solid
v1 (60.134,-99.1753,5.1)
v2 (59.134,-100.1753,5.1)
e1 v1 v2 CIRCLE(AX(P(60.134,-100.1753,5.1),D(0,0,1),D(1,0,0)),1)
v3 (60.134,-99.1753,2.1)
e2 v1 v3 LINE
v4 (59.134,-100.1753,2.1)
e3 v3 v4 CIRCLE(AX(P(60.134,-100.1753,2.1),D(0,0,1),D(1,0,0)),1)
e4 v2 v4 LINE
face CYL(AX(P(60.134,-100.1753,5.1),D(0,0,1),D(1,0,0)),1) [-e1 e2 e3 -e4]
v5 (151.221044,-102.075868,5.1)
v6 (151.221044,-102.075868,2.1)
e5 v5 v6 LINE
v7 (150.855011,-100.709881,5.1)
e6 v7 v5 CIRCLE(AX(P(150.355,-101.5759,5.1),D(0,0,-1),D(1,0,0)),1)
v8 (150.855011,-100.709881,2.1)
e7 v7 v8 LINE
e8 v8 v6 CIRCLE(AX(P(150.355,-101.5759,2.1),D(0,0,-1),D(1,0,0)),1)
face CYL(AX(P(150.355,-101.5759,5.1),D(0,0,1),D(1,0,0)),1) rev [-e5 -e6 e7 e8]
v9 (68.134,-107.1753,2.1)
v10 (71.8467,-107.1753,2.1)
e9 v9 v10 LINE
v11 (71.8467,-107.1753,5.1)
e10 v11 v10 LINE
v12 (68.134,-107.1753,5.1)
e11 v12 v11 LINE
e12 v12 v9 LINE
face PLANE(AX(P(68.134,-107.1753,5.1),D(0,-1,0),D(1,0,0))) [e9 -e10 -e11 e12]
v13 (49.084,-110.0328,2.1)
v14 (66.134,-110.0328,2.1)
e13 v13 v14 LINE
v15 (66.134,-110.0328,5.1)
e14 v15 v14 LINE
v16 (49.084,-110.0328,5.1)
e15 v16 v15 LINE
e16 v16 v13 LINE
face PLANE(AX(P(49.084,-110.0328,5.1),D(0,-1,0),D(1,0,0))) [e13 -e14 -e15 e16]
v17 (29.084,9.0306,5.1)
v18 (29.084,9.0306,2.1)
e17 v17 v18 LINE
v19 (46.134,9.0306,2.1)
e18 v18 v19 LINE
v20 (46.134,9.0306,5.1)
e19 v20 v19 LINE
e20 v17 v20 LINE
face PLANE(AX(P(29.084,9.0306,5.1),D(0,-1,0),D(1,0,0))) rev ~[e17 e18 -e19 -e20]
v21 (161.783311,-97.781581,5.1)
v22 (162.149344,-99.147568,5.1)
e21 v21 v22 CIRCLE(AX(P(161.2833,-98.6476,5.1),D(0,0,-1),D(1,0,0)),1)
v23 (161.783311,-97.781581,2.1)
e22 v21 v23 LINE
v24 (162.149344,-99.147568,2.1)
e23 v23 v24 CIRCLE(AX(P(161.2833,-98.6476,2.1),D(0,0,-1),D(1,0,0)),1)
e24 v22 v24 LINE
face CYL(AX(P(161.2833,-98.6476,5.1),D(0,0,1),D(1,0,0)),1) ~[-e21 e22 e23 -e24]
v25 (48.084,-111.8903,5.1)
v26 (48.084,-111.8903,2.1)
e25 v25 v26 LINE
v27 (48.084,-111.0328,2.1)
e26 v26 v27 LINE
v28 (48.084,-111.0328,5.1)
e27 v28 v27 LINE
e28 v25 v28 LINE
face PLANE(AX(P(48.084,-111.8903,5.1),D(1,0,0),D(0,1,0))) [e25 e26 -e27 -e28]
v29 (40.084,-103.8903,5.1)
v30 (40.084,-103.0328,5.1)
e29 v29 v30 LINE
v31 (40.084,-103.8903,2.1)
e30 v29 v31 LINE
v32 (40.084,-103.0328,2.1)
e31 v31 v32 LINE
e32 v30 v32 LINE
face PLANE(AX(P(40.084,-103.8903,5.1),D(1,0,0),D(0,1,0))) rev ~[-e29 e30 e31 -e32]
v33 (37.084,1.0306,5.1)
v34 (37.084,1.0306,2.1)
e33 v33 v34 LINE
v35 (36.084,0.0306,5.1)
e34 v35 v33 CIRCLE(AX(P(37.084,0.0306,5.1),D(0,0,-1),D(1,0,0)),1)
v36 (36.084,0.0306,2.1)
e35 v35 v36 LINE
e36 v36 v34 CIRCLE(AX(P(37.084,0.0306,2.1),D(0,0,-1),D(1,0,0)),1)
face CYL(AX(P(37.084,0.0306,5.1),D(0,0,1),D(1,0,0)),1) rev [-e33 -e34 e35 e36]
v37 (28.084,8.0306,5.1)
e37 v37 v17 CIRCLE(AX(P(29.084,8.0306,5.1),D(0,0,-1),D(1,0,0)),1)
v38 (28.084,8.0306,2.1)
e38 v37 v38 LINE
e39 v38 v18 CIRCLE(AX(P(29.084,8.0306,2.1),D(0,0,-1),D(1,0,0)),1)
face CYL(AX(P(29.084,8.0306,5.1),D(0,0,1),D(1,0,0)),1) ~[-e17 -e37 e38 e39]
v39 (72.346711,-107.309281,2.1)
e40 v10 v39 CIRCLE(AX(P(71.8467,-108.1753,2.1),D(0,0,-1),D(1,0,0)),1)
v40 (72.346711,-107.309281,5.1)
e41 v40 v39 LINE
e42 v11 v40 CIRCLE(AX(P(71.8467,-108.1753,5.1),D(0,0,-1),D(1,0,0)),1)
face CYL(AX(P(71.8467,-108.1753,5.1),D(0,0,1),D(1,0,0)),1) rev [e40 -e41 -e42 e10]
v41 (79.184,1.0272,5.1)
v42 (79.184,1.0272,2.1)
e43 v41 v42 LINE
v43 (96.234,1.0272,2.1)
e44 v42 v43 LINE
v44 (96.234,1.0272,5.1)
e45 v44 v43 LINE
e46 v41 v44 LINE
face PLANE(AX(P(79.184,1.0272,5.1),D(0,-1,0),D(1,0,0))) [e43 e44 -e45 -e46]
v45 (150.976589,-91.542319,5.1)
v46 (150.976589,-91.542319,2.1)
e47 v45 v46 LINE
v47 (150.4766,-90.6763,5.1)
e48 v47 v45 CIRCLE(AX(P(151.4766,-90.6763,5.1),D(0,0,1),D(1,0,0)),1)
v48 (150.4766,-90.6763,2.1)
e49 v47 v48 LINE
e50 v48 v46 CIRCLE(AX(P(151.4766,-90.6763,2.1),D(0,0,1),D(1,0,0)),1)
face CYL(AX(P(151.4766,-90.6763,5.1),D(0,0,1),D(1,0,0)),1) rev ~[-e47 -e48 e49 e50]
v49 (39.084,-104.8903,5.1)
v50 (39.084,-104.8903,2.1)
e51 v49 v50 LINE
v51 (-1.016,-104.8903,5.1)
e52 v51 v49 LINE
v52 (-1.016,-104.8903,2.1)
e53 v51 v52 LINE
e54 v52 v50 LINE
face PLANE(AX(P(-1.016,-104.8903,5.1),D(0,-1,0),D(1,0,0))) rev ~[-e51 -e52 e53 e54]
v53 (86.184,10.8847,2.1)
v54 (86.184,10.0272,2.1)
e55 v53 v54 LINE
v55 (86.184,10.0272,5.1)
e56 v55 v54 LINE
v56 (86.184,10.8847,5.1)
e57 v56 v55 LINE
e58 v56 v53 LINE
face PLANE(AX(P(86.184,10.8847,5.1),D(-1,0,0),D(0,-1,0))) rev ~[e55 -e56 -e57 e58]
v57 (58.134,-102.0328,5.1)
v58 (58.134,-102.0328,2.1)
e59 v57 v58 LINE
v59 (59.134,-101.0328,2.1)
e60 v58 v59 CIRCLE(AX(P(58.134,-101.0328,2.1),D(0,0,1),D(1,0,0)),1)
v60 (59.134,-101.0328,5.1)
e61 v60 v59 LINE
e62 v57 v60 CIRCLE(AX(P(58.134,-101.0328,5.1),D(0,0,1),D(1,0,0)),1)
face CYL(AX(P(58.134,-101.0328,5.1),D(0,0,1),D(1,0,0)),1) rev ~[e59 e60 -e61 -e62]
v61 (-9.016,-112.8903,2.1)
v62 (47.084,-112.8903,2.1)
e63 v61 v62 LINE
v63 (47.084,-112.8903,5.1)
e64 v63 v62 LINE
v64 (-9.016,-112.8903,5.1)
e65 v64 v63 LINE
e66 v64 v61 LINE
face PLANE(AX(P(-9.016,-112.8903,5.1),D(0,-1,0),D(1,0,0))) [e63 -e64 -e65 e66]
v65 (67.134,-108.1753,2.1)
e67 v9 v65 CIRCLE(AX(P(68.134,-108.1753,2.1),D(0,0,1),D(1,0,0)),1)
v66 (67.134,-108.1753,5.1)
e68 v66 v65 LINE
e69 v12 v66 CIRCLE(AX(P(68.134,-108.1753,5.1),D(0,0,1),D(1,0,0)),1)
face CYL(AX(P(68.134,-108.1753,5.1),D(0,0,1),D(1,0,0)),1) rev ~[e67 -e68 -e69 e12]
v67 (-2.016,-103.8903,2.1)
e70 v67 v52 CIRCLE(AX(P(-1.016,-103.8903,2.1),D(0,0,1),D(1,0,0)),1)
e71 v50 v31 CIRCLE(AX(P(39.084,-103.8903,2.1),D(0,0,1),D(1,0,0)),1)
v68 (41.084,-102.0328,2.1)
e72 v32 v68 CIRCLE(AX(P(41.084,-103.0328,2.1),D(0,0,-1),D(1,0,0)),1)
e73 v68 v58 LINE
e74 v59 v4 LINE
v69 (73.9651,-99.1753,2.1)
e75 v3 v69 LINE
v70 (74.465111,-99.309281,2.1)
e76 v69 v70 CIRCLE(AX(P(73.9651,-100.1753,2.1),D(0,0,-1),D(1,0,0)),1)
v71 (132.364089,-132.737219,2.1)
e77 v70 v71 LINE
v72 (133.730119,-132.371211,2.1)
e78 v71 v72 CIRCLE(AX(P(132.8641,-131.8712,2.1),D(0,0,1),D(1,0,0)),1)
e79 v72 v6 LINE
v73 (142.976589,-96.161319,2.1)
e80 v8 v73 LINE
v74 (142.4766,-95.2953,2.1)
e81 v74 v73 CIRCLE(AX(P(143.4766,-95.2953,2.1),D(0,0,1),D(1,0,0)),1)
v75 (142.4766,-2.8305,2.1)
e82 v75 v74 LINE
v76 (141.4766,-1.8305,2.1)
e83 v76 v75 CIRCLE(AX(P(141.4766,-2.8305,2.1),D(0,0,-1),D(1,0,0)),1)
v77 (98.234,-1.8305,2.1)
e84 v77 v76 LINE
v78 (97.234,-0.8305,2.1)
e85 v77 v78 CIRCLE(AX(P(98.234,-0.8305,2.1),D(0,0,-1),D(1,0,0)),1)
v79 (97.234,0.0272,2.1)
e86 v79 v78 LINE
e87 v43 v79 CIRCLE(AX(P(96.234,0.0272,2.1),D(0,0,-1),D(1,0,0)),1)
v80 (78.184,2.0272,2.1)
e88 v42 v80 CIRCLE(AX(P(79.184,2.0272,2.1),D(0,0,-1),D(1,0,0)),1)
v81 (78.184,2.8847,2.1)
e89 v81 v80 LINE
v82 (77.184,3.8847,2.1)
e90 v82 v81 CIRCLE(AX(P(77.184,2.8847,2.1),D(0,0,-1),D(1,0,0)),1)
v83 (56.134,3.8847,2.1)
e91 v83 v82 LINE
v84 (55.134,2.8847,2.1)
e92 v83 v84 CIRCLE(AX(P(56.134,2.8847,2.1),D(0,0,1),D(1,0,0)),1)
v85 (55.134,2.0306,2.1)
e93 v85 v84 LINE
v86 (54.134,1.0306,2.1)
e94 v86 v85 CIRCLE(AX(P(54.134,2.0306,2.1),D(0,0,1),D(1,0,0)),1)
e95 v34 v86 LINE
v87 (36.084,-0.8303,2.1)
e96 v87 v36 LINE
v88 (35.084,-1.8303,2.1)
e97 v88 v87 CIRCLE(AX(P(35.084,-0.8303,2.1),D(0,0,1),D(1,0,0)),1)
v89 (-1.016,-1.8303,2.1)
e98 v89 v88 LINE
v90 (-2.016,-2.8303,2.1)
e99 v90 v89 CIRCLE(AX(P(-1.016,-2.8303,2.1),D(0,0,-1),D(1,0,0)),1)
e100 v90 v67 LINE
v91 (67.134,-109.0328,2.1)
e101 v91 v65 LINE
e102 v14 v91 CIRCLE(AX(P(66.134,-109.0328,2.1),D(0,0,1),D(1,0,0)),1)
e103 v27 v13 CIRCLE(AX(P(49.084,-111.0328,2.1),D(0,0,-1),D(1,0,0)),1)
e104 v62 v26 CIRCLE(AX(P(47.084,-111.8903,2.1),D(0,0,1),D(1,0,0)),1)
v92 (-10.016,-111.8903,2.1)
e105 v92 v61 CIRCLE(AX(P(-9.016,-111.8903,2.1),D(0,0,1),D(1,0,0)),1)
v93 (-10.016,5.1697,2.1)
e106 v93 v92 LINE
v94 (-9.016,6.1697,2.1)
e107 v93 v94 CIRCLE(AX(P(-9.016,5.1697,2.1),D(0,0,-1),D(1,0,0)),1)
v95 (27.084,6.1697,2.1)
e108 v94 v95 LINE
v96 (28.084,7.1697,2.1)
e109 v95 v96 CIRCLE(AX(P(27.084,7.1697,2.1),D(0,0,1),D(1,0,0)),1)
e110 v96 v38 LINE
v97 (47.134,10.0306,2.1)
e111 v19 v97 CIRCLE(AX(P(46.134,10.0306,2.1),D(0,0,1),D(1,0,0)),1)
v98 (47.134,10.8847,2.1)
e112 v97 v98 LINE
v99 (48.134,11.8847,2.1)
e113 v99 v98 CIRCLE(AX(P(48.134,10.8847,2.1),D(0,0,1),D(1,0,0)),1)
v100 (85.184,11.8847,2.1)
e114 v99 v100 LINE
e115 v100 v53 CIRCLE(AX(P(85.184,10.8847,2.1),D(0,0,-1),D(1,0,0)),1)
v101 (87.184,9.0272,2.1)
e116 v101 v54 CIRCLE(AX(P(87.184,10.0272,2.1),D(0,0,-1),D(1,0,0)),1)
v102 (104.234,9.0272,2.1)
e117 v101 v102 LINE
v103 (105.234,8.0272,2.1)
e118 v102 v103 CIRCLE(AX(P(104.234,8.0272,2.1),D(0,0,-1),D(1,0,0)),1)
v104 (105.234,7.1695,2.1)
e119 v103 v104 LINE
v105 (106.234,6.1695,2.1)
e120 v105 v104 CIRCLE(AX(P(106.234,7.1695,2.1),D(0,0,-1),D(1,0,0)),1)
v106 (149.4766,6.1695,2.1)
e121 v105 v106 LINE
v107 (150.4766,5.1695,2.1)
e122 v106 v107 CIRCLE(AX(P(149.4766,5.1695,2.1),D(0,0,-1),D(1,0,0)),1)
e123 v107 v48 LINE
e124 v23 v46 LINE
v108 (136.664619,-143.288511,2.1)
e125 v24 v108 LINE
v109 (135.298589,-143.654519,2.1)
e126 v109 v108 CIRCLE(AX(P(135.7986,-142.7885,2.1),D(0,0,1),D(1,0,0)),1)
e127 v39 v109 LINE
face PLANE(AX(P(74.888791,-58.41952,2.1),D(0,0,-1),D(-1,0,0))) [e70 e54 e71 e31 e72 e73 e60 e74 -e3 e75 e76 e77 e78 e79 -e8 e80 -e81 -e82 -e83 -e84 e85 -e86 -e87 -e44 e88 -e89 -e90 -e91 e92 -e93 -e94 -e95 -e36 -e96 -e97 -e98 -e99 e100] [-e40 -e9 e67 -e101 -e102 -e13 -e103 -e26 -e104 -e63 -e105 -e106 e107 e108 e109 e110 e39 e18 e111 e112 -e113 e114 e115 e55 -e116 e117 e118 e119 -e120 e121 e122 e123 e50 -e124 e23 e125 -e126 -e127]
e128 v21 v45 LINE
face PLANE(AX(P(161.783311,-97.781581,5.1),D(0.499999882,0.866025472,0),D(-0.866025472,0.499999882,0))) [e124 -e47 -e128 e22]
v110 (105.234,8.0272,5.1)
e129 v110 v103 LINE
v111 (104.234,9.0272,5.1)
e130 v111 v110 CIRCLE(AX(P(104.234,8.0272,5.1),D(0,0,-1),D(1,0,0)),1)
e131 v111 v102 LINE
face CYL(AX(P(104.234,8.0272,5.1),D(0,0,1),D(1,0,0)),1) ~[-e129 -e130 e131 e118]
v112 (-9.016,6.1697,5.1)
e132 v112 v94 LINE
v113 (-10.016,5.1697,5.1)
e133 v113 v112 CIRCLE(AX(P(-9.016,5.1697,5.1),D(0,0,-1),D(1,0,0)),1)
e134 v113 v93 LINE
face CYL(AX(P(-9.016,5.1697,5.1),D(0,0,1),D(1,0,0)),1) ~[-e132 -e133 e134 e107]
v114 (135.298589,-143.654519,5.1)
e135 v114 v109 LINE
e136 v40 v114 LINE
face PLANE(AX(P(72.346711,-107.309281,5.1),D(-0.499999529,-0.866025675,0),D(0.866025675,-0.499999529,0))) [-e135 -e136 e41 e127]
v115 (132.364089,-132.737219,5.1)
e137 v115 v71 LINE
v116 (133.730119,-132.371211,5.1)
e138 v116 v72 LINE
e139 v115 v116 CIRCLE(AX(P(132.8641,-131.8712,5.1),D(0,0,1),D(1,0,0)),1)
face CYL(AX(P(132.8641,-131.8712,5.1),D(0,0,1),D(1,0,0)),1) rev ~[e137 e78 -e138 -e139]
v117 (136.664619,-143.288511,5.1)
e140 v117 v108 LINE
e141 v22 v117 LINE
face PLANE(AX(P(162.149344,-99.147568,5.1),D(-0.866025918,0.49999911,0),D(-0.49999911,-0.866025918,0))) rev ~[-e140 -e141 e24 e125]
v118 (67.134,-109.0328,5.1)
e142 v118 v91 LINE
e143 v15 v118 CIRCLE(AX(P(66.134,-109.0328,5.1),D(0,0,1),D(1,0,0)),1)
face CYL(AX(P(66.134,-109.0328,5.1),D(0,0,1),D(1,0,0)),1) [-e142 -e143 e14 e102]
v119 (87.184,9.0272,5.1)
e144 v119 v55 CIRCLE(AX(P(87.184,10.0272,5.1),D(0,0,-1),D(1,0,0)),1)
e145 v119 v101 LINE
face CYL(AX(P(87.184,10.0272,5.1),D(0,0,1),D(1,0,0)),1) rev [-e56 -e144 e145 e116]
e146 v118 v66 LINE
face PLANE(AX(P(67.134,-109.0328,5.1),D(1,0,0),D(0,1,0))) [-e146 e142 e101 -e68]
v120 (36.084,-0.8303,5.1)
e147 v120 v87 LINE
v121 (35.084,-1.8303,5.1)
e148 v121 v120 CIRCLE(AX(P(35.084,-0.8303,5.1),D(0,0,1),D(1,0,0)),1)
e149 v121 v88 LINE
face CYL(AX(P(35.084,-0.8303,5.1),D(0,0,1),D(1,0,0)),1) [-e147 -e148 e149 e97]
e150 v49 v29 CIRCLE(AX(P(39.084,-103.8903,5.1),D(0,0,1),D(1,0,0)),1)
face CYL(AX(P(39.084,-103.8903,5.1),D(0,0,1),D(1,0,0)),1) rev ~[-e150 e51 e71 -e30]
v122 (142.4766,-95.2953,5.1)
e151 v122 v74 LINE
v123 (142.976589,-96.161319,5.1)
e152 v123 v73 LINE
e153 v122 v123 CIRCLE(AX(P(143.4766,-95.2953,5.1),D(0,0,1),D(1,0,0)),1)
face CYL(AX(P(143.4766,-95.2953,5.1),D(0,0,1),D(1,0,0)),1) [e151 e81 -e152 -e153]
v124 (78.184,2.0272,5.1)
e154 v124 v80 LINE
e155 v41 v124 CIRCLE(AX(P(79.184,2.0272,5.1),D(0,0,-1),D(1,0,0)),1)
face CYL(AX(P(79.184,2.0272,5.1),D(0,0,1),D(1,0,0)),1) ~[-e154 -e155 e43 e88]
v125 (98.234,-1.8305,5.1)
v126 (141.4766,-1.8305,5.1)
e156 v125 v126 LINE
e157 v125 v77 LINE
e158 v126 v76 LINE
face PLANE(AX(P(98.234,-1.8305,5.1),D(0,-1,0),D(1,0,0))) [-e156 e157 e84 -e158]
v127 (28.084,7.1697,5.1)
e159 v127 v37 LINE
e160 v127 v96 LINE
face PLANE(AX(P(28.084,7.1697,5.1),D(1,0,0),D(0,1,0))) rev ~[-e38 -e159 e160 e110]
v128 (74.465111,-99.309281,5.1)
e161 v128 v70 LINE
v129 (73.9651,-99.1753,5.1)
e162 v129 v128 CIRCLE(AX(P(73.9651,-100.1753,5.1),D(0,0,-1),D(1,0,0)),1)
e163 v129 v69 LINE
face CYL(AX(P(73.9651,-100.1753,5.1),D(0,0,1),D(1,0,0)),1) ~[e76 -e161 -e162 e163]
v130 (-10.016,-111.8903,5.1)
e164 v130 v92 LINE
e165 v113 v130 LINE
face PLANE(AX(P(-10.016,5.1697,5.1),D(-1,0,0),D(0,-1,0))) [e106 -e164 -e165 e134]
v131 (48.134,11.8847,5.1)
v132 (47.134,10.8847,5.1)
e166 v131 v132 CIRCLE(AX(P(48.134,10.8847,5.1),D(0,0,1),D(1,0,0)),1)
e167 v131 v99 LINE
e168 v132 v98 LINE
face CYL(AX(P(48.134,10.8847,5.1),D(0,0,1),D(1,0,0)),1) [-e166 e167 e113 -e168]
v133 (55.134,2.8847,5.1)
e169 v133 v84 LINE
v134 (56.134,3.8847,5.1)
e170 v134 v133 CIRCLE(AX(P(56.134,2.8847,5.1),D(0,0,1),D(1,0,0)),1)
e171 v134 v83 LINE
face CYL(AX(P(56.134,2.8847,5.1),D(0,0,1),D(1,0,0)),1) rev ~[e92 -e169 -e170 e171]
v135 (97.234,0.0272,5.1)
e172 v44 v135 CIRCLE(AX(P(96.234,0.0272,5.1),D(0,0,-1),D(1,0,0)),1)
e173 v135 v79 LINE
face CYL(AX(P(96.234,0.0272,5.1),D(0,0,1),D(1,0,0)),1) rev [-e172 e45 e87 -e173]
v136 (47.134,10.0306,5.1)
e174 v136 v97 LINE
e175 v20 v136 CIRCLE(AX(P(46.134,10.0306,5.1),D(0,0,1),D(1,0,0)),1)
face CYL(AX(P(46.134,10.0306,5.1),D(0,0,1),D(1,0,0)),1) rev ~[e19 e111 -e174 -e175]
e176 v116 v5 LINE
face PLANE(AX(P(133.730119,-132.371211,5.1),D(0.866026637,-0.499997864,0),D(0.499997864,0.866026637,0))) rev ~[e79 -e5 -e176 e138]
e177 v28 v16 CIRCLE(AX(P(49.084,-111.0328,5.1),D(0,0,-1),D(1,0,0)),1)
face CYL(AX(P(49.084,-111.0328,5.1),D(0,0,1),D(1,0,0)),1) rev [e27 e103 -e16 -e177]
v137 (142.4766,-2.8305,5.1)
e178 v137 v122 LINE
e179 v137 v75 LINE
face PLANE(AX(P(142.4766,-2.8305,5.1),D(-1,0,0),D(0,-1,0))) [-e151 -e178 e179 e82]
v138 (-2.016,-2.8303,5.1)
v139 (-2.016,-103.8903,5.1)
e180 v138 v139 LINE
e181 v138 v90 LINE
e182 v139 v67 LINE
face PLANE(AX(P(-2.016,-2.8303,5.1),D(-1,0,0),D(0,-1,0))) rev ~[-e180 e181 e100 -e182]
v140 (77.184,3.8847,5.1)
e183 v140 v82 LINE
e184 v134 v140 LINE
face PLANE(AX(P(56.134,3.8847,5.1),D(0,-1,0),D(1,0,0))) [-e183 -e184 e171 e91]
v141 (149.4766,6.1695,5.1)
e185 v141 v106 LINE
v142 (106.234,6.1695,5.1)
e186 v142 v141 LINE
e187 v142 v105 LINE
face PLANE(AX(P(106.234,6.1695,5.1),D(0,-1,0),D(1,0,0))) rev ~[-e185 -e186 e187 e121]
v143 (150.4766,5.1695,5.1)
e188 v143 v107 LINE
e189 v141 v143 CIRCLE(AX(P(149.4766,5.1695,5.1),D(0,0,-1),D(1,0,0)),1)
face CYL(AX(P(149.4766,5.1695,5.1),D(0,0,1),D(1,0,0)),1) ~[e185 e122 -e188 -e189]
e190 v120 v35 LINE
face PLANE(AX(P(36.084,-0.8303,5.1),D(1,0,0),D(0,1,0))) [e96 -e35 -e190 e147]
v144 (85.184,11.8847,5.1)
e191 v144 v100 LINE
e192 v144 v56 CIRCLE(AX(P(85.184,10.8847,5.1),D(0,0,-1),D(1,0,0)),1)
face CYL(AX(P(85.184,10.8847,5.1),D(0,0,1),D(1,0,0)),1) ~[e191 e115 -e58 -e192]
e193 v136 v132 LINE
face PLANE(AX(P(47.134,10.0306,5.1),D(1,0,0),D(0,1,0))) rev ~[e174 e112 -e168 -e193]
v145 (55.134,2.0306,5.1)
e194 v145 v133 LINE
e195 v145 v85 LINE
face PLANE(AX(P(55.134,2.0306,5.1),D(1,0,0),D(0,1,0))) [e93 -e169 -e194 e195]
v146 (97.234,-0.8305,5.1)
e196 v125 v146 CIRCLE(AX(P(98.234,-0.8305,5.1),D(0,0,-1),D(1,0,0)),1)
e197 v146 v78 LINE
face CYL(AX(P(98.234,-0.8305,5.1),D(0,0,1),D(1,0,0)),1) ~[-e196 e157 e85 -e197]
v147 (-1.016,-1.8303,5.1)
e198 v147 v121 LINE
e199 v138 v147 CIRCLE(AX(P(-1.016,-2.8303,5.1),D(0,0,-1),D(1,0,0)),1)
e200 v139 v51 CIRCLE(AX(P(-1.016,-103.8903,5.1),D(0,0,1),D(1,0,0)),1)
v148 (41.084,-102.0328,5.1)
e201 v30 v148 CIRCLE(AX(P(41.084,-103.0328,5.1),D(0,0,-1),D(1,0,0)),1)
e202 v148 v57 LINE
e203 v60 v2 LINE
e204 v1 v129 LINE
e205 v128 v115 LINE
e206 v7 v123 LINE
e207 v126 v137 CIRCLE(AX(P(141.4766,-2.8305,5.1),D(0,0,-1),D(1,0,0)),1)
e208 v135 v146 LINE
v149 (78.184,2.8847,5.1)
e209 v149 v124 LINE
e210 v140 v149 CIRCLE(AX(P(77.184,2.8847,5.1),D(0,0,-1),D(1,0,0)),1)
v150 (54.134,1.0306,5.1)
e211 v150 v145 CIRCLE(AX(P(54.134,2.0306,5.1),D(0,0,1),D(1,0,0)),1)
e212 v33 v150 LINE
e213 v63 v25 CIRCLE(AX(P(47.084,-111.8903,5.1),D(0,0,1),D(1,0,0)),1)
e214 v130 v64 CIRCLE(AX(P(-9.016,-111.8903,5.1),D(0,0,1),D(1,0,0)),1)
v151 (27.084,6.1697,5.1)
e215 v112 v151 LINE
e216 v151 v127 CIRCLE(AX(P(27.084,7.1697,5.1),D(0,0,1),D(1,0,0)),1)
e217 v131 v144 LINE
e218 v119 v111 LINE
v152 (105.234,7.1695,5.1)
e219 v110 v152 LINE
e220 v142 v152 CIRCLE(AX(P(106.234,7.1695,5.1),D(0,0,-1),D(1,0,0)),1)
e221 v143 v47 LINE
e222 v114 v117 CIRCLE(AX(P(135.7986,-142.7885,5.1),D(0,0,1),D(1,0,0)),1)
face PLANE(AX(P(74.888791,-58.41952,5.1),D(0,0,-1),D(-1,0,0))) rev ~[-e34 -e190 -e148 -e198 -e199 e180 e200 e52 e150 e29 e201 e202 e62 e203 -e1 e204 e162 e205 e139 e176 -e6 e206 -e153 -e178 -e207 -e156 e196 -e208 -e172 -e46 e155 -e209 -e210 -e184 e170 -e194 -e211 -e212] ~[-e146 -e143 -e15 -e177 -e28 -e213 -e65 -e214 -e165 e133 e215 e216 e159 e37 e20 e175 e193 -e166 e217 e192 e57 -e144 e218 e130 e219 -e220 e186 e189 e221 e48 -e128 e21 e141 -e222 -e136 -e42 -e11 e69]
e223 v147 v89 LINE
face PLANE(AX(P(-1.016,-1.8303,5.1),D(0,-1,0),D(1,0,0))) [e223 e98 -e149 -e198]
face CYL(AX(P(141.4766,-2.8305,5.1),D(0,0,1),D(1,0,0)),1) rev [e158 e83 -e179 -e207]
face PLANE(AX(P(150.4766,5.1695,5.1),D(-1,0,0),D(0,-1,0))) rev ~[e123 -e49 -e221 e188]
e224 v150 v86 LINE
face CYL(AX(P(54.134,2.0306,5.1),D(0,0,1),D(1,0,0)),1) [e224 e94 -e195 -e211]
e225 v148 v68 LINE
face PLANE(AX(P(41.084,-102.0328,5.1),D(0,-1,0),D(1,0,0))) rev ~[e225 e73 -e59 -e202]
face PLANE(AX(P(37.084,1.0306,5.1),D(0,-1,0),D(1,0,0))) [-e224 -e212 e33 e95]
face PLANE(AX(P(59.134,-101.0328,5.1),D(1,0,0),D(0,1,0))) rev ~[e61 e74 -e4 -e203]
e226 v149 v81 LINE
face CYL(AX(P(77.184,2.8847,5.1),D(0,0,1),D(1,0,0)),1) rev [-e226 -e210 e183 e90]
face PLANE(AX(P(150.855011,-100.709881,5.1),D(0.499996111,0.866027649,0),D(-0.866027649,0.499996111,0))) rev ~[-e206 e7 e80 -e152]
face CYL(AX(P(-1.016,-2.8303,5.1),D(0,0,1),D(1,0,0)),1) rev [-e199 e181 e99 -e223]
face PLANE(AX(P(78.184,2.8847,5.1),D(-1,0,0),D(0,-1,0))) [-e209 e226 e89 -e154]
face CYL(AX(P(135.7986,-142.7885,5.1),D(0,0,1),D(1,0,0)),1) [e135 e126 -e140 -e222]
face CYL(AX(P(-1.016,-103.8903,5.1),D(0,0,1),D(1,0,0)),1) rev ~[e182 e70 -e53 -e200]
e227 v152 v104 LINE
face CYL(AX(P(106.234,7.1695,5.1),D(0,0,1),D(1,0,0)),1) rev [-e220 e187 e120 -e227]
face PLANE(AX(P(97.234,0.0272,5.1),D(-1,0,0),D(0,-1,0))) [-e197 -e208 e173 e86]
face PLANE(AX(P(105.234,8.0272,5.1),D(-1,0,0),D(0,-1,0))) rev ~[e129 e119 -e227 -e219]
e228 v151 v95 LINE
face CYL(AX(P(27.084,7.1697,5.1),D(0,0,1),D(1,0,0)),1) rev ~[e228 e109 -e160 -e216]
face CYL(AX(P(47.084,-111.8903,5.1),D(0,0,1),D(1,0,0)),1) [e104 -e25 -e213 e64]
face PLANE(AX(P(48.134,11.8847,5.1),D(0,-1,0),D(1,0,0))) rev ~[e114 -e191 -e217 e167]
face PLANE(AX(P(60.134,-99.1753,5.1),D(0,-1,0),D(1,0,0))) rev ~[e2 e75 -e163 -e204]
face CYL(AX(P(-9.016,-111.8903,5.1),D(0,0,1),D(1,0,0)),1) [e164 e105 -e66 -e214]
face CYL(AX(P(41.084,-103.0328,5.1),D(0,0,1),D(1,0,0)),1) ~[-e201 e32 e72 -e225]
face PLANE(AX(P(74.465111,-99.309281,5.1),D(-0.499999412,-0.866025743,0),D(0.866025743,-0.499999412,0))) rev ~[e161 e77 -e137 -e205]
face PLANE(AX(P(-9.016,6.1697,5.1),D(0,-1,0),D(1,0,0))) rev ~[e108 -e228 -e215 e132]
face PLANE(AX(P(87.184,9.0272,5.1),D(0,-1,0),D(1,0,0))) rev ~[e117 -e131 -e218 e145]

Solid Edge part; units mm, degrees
sketch "Sketch1" plane through (74.3033, -64.1291, 5.1) normal (0, 0, 1) x (1, 0, 0)
  line L0 (-45.2193, 73.1597) -> (-28.1693, 73.1597)
  arc A0 (-28.1693, 73.1597) -> (-27.1693, 74.1597) centre (-28.1693, 74.1597) ccw
  line L1 (-27.1693, 74.1597) -> (-27.1693, 75.0138)
  arc A1 (-26.1693, 76.0138) -> (-27.1693, 75.0138) centre (-26.1693, 75.0138) ccw
  line L2 (-26.1693, 76.0138) -> (10.8807, 76.0138)
  arc A2 (10.8807, 76.0138) -> (11.8807, 75.0138) centre (10.8807, 75.0138) cw
  line L3 (11.8807, 75.0138) -> (11.8807, 74.1563)
  arc A3 (12.8807, 73.1563) -> (11.8807, 74.1563) centre (12.8807, 74.1563) cw
  line L4 (12.8807, 73.1563) -> (29.9307, 73.1563)
  arc A4 (29.9307, 73.1563) -> (30.9307, 72.1563) centre (29.9307, 72.1563) cw
  line L5 (30.9307, 72.1563) -> (30.9307, 71.2986)
  arc A5 (31.9307, 70.2986) -> (30.9307, 71.2986) centre (31.9307, 71.2986) cw
  line L6 (31.9307, 70.2986) -> (75.1733, 70.2986)
  arc A6 (75.1733, 70.2986) -> (76.1733, 69.2986) centre (75.1733, 69.2986) cw
  line L7 (76.1733, 69.2986) -> (76.1733, -26.5472)
  arc A7 (76.1733, -26.5472) -> (76.6733, -27.4132) centre (77.1733, -26.5472) ccw
  line L8 (87.48, -33.6525) -> (76.6733, -27.4132)
  arc A8 (87.48, -33.6525) -> (87.8461, -35.0185) centre (86.98, -34.5185) cw
  line L9 (87.8461, -35.0185) -> (62.3613, -79.1594)
  arc A9 (60.9953, -79.5254) -> (62.3613, -79.1594) centre (61.4953, -78.6594) ccw
  line L10 (-1.9566, -43.1802) -> (60.9953, -79.5254)
  arc A10 (-2.4566, -43.0462) -> (-1.9566, -43.1802) centre (-2.4566, -44.0462) cw
  line L11 (-6.1693, -43.0462) -> (-2.4566, -43.0462)
  arc A11 (-6.1693, -43.0462) -> (-7.1693, -44.0462) centre (-6.1693, -44.0462) ccw
  line L12 (-7.1693, -44.9037) -> (-7.1693, -44.0462)
  arc A12 (-8.1693, -45.9037) -> (-7.1693, -44.9037) centre (-8.1693, -44.9037) ccw
  line L13 (-25.2193, -45.9037) -> (-8.1693, -45.9037)
  arc A13 (-26.2193, -46.9037) -> (-25.2193, -45.9037) centre (-25.2193, -46.9037) cw
  line L14 (-26.2193, -47.7612) -> (-26.2193, -46.9037)
  arc A14 (-27.2193, -48.7612) -> (-26.2193, -47.7612) centre (-27.2193, -47.7612) ccw
  line L15 (-83.3193, -48.7612) -> (-27.2193, -48.7612)
  arc A15 (-84.3193, -47.7612) -> (-83.3193, -48.7612) centre (-83.3193, -47.7612) ccw
  line L16 (-84.3193, 69.2988) -> (-84.3193, -47.7612)
  arc A16 (-84.3193, 69.2988) -> (-83.3193, 70.2988) centre (-83.3193, 69.2988) cw
  line L17 (-83.3193, 70.2988) -> (-47.2193, 70.2988)
  arc A17 (-47.2193, 70.2988) -> (-46.2193, 71.2988) centre (-47.2193, 71.2988) ccw
  line L18 (-46.2193, 71.2988) -> (-46.2193, 72.1597)
  arc A18 (-46.2193, 72.1597) -> (-45.2193, 73.1597) centre (-45.2193, 72.1597) cw
  line L19 (-18.1693, 68.0138) -> (2.8807, 68.0138)
  arc A19 (2.8807, 68.0138) -> (3.8807, 67.0138) centre (2.8807, 67.0138) cw
  line L20 (3.8807, 67.0138) -> (3.8807, 66.1563)
  arc A20 (4.8807, 65.1563) -> (3.8807, 66.1563) centre (4.8807, 66.1563) cw
  line L21 (4.8807, 65.1563) -> (21.9307, 65.1563)
  arc A21 (21.9307, 65.1563) -> (22.9307, 64.1563) centre (21.9307, 64.1563) cw
  line L22 (22.9307, 64.1563) -> (22.9307, 63.2986)
  arc A22 (23.9307, 62.2986) -> (22.9307, 63.2986) centre (23.9307, 63.2986) cw
  line L23 (23.9307, 62.2986) -> (67.1733, 62.2986)
  arc A23 (67.1733, 62.2986) -> (68.1733, 61.2986) centre (67.1733, 61.2986) cw
  line L24 (68.1733, 61.2986) -> (68.1733, -31.1662)
  arc A24 (68.1733, -31.1662) -> (68.6733, -32.0322) centre (69.1733, -31.1662) ccw
  line L25 (76.5517, -36.5808) -> (68.6733, -32.0322)
  arc A25 (76.5517, -36.5808) -> (76.9178, -37.9468) centre (76.0517, -37.4468) cw
  line L26 (59.4268, -68.2421) -> (76.9178, -37.9468)
  arc A26 (58.0608, -68.6081) -> (59.4268, -68.2421) centre (58.5608, -67.7421) ccw
  line L27 (0.1618, -35.1802) -> (58.0608, -68.6081)
  arc A27 (-0.3382, -35.0462) -> (0.1618, -35.1802) centre (-0.3382, -36.0462) cw
  line L28 (-14.1693, -35.0462) -> (-0.3382, -35.0462)
  arc A28 (-14.1693, -35.0462) -> (-15.1693, -36.0462) centre (-14.1693, -36.0462) ccw
  line L29 (-15.1693, -36.9037) -> (-15.1693, -36.0462)
  arc A29 (-16.1693, -37.9037) -> (-15.1693, -36.9037) centre (-16.1693, -36.9037) ccw
  line L30 (-33.2193, -37.9037) -> (-16.1693, -37.9037)
  arc A30 (-34.2193, -38.9037) -> (-33.2193, -37.9037) centre (-33.2193, -38.9037) cw
  line L31 (-34.2193, -39.7612) -> (-34.2193, -38.9037)
  arc A31 (-35.2193, -40.7612) -> (-34.2193, -39.7612) centre (-35.2193, -39.7612) ccw
  line L32 (-75.3193, -40.7612) -> (-35.2193, -40.7612)
  arc A32 (-76.3193, -39.7612) -> (-75.3193, -40.7612) centre (-75.3193, -39.7612) ccw
  line L33 (-76.3193, 61.2988) -> (-76.3193, -39.7612)
  arc A33 (-76.3193, 61.2988) -> (-75.3193, 62.2988) centre (-75.3193, 61.2988) cw
  line L34 (-75.3193, 62.2988) -> (-39.2193, 62.2988)
  arc A34 (-39.2193, 62.2988) -> (-38.2193, 63.2988) centre (-39.2193, 63.2988) ccw
  line L35 (-38.2193, 63.2988) -> (-38.2193, 64.1597)
  arc A35 (-38.2193, 64.1597) -> (-37.2193, 65.1597) centre (-37.2193, 64.1597) cw
  line L36 (-37.2193, 65.1597) -> (-20.1693, 65.1597)
  arc A36 (-20.1693, 65.1597) -> (-19.1693, 66.1597) centre (-20.1693, 66.1597) ccw
  line L37 (-19.1693, 66.1597) -> (-19.1693, 67.0138)
  arc A37 (-18.1693, 68.0138) -> (-19.1693, 67.0138) centre (-18.1693, 67.0138) ccw
  dimension "D1" = 10
  dimension "D2" = 10
  dimension "D3" = 10
  dimension "D4" = 10
  dimension "D5" = 10
  dimension "D6" = 10
  dimension "D7" = 10
  dimension "D8" = 10
  dimension "D9" = 10
  dimension "D10" = 10
  dimension "D11" = 9.9984
  dimension "D12" = 10
  dimension "D13" = 10
  dimension "D14" = 1
  dimension "D15" = 1
  dimension "D16" = 1
  dimension "D17" = 1
  dimension "D18" = 1
  dimension "D19" = 1
  dimension "D20" = 1
  dimension "D21" = 1
  dimension "D22" = 1
  dimension "D23" = 1
  dimension "D24" = 1
  dimension "D25" = 1
  dimension "D26" = 1
  dimension "D27" = 1
  dimension "D28" = 1
  dimension "D29" = 1
  dimension "D30" = 1
  dimension "D31" = 1
  dimension "D32" = 1
  dimension "D33" = 10
  dimension "D34" = 10
  dimension "D35" = 10
  dimension "D36" = 10
  dimension "D37" = 10
  dimension "D38" = 10
extrude "ExtrudedProtrusion_4" add sketch "Sketch1" against normal blind 3
properties material "ABS Plastic, high impact"
